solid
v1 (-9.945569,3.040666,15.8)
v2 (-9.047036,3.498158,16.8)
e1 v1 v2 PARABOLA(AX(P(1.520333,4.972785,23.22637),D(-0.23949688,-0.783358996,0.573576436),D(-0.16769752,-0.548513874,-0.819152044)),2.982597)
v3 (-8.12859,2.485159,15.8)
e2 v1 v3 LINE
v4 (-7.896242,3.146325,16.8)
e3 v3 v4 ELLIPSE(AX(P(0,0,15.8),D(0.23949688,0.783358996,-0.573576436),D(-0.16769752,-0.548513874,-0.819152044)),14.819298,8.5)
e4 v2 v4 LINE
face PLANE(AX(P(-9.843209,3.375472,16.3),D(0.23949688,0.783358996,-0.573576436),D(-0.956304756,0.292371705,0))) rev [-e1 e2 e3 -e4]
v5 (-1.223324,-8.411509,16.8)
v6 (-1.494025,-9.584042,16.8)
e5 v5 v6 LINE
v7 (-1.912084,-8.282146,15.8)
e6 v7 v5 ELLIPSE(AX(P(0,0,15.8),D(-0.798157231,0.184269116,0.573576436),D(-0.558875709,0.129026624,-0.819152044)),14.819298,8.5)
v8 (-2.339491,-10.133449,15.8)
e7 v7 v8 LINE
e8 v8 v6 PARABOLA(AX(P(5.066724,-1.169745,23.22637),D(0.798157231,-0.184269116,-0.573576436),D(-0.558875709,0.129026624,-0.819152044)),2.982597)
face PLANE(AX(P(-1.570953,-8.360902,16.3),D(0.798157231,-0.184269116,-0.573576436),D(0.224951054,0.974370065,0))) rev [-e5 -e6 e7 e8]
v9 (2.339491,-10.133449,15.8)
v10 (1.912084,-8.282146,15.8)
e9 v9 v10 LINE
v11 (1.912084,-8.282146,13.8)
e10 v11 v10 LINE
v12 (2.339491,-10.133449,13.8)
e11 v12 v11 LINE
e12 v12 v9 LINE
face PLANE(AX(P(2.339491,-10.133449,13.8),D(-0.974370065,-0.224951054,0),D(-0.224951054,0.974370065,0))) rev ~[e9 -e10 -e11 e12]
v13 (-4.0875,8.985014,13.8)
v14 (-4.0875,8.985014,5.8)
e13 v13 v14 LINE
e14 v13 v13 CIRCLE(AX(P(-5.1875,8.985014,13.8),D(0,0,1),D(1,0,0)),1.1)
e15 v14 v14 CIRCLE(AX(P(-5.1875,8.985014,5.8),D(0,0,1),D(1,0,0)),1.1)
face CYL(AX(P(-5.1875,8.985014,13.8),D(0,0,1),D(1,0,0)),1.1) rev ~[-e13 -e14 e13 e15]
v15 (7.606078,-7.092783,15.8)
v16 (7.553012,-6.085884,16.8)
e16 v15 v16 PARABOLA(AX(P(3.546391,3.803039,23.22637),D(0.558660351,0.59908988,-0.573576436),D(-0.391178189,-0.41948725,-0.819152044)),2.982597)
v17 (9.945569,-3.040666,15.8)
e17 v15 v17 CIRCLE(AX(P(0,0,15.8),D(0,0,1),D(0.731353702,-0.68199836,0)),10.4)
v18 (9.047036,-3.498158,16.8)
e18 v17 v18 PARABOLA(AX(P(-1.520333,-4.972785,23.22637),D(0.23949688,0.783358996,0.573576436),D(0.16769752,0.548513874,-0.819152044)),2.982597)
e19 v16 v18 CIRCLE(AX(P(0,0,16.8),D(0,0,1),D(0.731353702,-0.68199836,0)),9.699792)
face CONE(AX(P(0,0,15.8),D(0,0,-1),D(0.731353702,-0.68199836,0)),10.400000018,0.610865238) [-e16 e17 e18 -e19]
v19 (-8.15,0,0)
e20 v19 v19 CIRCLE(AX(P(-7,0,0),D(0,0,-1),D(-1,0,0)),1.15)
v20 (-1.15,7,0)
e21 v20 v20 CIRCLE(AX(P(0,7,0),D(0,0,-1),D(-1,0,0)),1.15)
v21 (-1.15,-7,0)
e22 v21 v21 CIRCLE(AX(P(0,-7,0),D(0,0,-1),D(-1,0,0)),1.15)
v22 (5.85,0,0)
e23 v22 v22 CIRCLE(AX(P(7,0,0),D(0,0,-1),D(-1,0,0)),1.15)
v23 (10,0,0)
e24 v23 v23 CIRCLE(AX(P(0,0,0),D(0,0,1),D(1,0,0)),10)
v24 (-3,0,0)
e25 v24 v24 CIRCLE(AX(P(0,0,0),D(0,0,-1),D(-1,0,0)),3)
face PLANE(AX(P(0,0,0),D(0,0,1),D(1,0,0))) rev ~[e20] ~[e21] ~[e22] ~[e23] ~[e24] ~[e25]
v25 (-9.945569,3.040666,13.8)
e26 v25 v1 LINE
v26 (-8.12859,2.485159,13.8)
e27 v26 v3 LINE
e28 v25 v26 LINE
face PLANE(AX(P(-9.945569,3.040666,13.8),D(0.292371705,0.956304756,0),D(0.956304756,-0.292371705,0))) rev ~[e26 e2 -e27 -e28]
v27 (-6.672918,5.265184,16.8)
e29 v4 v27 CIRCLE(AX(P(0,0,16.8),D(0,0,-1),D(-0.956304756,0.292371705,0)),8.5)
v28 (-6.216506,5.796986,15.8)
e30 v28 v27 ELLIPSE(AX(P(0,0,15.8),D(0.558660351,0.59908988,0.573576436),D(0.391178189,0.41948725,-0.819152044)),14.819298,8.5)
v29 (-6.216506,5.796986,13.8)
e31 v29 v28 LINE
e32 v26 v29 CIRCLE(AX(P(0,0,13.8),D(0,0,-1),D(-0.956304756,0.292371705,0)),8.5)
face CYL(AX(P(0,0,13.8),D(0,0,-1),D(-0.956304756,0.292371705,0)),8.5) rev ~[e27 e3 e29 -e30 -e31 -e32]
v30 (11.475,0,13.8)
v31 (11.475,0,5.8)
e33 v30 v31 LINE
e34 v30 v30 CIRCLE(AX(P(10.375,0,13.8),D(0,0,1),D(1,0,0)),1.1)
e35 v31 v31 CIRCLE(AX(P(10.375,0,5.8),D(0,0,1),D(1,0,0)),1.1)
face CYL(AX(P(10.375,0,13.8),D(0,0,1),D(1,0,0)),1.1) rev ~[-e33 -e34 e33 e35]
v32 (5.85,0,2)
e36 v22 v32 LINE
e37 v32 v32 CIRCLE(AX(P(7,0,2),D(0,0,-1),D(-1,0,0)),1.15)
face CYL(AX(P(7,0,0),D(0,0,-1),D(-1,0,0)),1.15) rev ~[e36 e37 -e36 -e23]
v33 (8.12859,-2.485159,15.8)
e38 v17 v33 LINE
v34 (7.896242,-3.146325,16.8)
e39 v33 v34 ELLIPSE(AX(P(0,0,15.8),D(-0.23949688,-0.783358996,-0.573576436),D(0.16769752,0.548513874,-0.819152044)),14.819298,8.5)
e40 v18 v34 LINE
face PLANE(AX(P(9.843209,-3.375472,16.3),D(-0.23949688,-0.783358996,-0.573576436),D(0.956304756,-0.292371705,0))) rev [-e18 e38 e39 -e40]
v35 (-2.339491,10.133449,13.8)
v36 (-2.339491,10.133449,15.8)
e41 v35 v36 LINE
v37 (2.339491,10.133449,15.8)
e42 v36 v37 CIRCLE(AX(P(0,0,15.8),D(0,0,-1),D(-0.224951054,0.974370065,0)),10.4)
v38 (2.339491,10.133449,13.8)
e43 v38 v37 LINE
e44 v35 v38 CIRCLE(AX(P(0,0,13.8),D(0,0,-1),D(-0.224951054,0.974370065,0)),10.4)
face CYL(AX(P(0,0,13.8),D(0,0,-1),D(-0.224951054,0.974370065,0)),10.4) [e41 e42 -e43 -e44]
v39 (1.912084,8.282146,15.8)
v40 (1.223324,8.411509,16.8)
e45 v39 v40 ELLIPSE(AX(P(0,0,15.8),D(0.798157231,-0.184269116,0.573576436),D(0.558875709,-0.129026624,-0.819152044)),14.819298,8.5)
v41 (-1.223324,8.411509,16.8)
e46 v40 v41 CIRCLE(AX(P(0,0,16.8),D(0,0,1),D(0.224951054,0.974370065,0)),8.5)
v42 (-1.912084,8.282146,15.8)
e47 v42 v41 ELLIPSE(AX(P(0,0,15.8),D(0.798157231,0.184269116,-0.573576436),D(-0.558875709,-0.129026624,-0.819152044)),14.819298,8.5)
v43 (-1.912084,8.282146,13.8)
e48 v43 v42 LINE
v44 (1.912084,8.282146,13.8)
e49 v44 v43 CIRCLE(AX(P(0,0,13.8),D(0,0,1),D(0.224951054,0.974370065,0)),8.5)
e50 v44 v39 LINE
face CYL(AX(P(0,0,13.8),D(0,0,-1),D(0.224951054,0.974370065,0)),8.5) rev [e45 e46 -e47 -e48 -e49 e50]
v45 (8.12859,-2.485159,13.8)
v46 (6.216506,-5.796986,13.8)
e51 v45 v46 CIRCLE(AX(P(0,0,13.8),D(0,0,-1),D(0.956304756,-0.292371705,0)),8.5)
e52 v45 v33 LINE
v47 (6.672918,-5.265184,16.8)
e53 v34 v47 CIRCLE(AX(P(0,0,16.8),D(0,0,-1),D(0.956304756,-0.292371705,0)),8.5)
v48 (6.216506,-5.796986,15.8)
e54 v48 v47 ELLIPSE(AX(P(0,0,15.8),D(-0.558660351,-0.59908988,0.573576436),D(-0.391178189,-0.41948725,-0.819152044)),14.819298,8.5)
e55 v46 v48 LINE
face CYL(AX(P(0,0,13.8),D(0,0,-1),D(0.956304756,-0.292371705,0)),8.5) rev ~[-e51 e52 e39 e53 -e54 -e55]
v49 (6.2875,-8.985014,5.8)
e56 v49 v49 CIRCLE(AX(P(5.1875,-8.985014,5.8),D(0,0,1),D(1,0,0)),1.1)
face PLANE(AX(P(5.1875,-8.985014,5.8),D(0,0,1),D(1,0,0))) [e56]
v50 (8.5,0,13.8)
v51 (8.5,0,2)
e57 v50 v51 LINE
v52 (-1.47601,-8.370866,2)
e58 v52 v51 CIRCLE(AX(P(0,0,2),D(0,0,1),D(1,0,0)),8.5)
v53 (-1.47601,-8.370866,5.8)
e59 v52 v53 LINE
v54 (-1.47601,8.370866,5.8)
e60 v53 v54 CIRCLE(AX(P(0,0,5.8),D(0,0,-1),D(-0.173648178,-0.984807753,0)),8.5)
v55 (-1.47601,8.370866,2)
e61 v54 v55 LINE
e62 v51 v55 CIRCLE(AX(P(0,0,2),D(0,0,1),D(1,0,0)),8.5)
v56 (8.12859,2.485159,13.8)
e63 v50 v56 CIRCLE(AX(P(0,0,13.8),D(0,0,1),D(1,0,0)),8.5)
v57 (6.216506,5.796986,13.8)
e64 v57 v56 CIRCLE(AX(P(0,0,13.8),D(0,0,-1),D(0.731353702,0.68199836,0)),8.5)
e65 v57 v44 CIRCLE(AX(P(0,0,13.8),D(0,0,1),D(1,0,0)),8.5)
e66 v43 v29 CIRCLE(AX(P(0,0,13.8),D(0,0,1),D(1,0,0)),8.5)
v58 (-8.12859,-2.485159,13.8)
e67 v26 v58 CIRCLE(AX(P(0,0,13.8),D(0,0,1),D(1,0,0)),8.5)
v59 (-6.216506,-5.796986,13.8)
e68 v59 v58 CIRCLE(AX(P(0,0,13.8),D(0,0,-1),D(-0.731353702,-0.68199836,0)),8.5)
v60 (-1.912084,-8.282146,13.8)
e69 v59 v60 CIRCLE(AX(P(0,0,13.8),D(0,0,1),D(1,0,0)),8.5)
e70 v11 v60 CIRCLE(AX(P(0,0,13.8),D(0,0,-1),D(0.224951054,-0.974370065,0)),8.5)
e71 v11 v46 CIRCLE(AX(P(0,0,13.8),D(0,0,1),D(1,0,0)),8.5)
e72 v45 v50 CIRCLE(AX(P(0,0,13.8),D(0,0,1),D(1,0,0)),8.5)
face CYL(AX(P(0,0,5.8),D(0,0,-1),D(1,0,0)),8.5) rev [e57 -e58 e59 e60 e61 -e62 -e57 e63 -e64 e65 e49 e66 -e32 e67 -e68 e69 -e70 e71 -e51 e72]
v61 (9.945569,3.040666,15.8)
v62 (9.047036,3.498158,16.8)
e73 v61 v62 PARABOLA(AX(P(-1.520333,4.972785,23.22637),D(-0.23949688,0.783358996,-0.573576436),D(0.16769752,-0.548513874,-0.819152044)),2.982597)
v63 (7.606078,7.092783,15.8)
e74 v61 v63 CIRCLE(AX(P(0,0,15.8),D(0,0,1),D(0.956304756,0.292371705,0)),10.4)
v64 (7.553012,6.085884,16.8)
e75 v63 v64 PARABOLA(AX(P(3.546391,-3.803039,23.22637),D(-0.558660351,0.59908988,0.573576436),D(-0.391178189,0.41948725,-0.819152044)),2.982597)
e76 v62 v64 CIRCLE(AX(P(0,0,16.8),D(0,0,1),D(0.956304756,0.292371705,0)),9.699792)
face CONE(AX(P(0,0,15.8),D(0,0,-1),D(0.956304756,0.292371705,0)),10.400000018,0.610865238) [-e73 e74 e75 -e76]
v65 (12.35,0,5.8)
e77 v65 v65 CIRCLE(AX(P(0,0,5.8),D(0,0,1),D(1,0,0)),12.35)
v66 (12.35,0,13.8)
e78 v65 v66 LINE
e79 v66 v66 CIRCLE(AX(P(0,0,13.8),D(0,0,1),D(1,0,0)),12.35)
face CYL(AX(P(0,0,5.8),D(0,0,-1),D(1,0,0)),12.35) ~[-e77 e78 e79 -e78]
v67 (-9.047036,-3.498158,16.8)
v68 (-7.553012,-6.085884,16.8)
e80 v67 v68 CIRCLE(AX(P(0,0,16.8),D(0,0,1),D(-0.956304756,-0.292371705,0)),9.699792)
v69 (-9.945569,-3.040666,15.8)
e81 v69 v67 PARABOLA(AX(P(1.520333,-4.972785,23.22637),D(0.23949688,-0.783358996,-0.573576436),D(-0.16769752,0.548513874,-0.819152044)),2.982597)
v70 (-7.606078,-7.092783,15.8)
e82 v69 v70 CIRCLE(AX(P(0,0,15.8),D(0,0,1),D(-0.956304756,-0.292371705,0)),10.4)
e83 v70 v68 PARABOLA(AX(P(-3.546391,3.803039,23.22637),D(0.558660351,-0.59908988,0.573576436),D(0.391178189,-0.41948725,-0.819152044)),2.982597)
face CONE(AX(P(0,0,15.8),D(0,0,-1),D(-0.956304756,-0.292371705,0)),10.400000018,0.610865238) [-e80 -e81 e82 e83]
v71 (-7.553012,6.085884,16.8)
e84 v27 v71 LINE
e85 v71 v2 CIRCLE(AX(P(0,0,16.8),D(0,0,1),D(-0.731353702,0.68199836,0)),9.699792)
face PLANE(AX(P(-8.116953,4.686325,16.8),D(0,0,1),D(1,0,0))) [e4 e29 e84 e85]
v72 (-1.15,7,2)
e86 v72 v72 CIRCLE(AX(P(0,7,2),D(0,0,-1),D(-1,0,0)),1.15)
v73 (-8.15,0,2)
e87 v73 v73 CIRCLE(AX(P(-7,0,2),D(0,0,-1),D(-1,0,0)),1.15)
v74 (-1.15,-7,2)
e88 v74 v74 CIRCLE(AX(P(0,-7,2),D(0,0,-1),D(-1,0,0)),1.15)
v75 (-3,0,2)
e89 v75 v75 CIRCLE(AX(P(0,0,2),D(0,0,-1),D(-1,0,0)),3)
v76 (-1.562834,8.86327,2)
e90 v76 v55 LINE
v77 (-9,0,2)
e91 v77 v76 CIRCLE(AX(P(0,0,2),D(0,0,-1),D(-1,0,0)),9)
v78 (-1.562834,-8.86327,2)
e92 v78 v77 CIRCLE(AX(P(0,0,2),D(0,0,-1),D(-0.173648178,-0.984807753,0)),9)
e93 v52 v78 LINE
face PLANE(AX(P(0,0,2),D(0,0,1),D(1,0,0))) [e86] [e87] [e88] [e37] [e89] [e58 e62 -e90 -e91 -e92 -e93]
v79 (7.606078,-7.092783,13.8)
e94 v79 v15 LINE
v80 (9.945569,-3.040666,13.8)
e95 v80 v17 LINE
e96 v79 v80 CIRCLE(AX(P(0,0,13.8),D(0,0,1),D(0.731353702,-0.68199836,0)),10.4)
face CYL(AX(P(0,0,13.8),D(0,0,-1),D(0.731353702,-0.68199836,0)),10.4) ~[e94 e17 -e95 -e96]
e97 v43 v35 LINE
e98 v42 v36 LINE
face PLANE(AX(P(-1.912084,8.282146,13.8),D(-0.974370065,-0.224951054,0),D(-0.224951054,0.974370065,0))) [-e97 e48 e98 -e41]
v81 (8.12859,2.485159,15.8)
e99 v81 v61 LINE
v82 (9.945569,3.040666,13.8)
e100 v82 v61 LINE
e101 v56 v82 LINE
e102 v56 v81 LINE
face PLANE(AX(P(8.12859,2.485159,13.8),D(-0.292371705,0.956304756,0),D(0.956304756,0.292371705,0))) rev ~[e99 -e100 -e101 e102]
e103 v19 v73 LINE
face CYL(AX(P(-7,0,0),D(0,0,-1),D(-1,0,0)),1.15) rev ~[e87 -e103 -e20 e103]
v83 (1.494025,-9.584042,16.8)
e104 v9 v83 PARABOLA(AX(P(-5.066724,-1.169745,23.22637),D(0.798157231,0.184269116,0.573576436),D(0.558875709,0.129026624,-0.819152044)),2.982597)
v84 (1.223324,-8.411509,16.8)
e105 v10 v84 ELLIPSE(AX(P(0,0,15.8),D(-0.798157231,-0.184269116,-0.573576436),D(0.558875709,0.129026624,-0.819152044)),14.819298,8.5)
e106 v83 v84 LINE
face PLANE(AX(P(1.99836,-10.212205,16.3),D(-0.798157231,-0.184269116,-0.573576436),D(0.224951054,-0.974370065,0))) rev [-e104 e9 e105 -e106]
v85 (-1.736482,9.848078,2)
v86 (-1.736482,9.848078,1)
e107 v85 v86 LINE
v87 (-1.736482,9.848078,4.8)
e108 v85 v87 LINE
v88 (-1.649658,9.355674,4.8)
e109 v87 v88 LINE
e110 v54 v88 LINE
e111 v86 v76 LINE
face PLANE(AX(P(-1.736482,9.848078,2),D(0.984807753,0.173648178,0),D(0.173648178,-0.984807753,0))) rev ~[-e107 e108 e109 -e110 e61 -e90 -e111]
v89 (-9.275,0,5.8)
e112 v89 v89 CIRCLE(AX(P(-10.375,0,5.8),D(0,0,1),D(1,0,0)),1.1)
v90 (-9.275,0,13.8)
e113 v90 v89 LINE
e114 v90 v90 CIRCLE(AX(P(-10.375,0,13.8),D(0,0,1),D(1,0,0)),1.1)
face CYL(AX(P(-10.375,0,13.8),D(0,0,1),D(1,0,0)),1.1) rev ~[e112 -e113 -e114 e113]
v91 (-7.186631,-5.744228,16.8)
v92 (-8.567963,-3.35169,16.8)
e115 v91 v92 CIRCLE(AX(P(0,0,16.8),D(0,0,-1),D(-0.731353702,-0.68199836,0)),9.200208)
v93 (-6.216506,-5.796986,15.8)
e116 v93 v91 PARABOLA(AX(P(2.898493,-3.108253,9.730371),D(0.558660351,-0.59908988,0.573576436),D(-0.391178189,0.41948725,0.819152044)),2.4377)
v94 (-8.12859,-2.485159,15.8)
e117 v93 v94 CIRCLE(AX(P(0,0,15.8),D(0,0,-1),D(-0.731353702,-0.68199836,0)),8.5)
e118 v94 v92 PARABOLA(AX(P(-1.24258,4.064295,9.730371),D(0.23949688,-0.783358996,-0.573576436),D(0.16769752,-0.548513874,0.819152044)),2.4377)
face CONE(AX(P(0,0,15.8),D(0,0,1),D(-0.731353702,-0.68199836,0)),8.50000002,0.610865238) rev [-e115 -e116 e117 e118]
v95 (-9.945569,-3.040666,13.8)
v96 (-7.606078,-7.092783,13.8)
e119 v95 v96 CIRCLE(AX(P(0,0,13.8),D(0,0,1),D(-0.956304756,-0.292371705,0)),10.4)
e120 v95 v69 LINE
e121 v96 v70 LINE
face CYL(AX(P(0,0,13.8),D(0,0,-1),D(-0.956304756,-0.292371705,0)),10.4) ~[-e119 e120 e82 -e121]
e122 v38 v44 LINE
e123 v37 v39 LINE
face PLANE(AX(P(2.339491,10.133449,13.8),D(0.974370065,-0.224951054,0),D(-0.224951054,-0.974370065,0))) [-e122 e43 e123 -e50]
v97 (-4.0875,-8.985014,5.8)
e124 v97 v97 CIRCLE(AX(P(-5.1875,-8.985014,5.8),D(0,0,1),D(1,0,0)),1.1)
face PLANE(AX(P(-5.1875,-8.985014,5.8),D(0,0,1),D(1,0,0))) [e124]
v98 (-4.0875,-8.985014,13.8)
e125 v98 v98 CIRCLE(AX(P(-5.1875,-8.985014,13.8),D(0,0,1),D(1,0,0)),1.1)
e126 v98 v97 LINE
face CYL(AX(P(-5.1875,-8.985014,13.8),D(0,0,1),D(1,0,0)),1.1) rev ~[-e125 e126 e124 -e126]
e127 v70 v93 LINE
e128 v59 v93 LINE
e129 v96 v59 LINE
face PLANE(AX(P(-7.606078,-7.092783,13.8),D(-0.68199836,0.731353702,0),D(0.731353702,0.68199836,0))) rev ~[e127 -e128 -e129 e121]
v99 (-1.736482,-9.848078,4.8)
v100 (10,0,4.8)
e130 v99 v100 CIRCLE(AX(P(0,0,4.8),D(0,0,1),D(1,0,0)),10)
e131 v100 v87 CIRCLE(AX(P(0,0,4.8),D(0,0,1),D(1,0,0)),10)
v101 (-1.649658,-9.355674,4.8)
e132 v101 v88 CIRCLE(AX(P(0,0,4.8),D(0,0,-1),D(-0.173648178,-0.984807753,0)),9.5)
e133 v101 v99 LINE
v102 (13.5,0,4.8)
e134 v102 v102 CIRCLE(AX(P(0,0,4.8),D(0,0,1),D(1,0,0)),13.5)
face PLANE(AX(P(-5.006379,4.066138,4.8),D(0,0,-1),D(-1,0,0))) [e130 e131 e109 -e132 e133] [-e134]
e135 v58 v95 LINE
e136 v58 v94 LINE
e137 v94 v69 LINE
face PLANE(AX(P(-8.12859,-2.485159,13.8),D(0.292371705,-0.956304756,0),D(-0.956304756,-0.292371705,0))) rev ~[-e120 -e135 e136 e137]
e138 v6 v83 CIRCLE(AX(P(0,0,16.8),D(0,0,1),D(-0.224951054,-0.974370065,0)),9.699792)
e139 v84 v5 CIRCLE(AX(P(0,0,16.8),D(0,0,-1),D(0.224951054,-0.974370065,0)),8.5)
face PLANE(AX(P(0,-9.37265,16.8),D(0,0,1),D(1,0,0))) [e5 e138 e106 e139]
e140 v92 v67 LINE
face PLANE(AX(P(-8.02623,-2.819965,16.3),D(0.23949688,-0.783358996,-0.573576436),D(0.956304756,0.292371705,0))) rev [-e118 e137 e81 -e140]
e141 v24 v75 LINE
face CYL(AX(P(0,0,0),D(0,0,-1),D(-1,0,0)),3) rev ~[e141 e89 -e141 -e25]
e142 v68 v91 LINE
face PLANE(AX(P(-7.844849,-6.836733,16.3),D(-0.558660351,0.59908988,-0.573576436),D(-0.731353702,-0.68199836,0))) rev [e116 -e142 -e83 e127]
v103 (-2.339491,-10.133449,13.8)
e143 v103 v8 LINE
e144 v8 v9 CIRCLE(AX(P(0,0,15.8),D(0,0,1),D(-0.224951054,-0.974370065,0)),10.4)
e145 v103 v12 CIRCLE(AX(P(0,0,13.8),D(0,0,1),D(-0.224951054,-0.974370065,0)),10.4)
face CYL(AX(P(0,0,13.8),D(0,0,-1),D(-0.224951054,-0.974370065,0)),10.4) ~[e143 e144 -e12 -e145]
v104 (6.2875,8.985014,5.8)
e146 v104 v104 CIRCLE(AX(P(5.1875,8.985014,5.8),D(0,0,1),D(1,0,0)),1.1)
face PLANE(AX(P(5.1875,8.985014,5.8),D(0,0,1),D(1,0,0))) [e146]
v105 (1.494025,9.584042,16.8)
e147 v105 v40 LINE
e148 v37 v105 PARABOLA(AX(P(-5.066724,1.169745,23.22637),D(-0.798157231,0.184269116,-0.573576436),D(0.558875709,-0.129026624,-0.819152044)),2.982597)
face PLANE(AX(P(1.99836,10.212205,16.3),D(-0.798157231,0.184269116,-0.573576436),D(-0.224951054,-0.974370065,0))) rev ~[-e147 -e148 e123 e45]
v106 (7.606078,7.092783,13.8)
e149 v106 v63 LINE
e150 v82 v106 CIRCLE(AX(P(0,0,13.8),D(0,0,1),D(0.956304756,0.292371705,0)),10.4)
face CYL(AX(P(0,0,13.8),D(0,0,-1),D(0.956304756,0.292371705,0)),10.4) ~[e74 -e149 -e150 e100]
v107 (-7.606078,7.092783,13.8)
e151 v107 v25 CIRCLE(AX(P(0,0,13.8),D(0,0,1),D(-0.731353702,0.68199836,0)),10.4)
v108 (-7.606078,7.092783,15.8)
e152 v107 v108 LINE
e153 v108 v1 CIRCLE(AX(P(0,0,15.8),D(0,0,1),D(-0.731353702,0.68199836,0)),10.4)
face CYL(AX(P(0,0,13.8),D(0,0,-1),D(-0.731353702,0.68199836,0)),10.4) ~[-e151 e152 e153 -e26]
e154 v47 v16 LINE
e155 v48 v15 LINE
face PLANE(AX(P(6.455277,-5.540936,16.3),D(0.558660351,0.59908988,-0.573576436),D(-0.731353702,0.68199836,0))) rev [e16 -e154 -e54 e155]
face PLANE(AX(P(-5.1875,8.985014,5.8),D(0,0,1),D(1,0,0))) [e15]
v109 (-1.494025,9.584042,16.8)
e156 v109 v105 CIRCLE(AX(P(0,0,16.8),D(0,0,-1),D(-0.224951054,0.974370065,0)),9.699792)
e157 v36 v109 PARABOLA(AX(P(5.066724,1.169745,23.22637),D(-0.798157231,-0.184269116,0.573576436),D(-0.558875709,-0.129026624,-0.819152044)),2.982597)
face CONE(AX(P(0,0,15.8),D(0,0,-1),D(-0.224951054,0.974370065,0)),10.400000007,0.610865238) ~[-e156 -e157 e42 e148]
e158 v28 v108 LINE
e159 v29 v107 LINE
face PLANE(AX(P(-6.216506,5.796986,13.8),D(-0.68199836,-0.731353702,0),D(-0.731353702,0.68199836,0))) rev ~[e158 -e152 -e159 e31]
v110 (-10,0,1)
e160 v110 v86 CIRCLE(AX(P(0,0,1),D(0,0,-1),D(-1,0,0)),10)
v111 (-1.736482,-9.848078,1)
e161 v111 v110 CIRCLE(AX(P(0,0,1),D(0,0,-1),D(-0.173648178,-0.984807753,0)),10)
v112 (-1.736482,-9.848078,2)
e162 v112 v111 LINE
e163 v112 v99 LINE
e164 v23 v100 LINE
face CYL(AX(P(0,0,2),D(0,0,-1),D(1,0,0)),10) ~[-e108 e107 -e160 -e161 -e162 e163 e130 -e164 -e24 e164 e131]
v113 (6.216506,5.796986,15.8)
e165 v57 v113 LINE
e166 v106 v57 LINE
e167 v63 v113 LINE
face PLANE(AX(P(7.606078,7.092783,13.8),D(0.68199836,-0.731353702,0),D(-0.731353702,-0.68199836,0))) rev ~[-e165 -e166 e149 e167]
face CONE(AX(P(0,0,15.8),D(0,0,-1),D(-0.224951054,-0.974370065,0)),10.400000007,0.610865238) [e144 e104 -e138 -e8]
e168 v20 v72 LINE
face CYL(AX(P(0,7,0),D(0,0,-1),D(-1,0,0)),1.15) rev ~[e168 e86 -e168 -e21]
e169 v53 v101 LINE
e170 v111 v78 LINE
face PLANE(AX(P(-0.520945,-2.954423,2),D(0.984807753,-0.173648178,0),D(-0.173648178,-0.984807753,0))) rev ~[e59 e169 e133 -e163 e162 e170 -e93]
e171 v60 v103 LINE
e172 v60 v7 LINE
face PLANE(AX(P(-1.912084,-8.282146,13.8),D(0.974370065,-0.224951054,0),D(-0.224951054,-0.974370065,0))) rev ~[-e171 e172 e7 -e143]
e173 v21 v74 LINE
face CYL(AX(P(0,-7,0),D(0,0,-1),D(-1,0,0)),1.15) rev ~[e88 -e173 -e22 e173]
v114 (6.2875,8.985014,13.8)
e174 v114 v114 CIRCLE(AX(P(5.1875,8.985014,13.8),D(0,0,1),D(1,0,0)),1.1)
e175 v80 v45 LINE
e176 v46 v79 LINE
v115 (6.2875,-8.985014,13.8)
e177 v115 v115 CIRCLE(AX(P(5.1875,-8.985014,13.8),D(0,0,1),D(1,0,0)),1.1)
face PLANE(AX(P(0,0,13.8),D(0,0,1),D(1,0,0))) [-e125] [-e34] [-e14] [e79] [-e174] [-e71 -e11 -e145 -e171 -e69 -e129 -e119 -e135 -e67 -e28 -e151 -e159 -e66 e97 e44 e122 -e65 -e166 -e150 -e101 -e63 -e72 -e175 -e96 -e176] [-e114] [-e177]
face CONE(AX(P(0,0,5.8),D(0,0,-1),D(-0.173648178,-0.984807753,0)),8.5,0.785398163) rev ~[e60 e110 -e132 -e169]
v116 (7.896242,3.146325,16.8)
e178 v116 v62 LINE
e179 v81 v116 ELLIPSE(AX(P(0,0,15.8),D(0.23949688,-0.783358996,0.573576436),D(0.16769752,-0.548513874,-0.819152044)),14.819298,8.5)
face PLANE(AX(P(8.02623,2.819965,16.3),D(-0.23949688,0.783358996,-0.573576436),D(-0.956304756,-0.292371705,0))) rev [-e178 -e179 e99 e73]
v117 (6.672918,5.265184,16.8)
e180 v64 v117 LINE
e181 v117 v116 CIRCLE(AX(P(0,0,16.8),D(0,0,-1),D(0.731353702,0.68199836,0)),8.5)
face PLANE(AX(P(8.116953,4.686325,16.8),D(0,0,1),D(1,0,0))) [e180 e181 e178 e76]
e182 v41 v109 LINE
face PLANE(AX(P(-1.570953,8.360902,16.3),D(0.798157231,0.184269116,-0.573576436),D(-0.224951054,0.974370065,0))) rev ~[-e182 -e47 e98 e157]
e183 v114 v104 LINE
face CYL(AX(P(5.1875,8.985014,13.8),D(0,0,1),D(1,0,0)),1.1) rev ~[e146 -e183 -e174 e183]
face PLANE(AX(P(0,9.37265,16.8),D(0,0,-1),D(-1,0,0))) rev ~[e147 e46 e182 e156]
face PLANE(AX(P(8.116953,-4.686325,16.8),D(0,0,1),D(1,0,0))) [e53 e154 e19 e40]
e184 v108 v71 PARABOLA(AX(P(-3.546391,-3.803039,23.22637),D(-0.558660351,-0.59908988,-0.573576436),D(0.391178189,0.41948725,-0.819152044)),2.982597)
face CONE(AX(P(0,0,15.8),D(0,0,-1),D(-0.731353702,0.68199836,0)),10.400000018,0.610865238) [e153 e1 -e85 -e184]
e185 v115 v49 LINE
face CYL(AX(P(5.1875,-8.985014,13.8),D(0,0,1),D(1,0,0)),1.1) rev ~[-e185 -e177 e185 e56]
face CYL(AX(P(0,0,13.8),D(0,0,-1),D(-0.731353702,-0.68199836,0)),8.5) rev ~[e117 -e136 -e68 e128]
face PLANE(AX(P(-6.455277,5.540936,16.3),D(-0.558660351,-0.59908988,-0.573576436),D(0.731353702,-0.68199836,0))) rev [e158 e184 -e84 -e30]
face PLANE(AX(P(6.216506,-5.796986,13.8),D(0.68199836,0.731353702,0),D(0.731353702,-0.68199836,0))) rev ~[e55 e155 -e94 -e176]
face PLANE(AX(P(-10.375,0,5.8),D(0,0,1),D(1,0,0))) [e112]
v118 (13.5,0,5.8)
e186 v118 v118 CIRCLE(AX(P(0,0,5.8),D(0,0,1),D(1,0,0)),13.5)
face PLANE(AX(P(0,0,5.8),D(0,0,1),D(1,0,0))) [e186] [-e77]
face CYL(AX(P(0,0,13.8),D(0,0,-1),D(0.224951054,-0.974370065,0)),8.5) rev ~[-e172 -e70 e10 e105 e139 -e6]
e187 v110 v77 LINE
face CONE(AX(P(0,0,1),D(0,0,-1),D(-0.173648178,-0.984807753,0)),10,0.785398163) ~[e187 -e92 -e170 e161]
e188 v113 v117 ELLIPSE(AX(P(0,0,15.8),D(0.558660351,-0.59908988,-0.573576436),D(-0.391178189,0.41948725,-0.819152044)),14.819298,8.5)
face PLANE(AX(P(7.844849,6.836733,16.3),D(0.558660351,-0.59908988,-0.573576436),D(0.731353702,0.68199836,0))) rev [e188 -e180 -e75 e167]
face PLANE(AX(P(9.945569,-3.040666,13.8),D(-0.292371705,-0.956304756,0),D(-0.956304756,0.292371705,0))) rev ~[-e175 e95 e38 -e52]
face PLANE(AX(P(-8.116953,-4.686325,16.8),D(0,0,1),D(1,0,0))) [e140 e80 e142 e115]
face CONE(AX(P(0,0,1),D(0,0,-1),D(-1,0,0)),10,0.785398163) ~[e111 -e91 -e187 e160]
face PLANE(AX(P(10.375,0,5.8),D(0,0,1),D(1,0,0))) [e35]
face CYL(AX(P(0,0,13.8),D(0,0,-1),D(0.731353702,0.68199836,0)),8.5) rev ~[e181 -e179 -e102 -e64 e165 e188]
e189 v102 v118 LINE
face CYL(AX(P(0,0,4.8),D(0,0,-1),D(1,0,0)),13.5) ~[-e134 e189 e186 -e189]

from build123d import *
from OCP.BRepFilletAPI import BRepFilletAPI_MakeChamfer
from build123d.topology import SkipClean

# Parameters (mm, degrees)
SKETCH_1_R          = 10
EXTRUDE_1_DEPTH     = 2
SKETCH_2_R          = 10
SKETCH_2_R_2        = 8.5
EXTRUDE_2_DEPTH     = 2.8
SKETCH_4_R          = 13.5
SKETCH_4_R_2        = 8.5
EXTRUDE_3_DEPTH     = 1
SKETCH_5_R          = 12.35
SKETCH_5_R_2        = 8.5
EXTRUDE_4_DEPTH     = 8
SKETCH_6_R          = 1.1
CUT_EXTRUDE_1_DEPTH = 8
SKETCH_7_R          = 3
SKETCH_7_R_2        = 1.15
CUT_EXTRUDE_2_DEPTH = 24.557164515
EXTRUDE_5_DEPTH     = 3
CHAMFER_1_SIZE      = 1
CHAMFER_1_SIZE2     = 0.700207538
CUT_EXTRUDE_START   = -2
CUT_EXTRUDE_3_DEPTH = 2.8
CHAMFER_2_SIZE      = 1


with BuildPart() as part:
    # 스케치1 → 보스-돌출1 (new body)
    with BuildSketch(Plane.XY):
        Circle(SKETCH_1_R)
    extrude(amount=EXTRUDE_1_DEPTH)

    # 스케치2 → 보스-돌출2 (add)
    with BuildSketch(Plane.XY.offset(2)):
        Circle(SKETCH_2_R)
        Circle(SKETCH_2_R_2, mode=Mode.SUBTRACT)
    extrude(amount=EXTRUDE_2_DEPTH)

    # 스케치4 → 보스-돌출3 (add)
    with BuildSketch(Plane.XY.offset(4.8)):
        Circle(SKETCH_4_R)
        Circle(SKETCH_4_R_2, mode=Mode.SUBTRACT)
    extrude(amount=EXTRUDE_3_DEPTH)

    # 스케치5 → 보스-돌출4 (add)
    with BuildSketch(Plane.XY.offset(5.8)):
        Circle(SKETCH_5_R)
        Circle(SKETCH_5_R_2, mode=Mode.SUBTRACT)
    extrude(amount=EXTRUDE_4_DEPTH)

    # 스케치6 → 컷-돌출1 (cut)
    with BuildSketch(Plane.XY.offset(13.8)):
        with Locations((10.375, 0)):
            Circle(SKETCH_6_R)
        with Locations((5.1875, -8.985013564)):
            Circle(SKETCH_6_R)
        with Locations((-5.1875, -8.985013564)):
            Circle(SKETCH_6_R)
        with Locations((-10.375, 0)):
            Circle(SKETCH_6_R)
        with Locations((-5.1875, 8.985013564)):
            Circle(SKETCH_6_R)
        with Locations((5.1875, 8.985013564)):
            Circle(SKETCH_6_R)
    extrude(amount=-CUT_EXTRUDE_1_DEPTH, mode=Mode.SUBTRACT)

    # 스케치7 → 컷-돌출2 (cut, through all)
    with BuildSketch(Plane(origin=(0, 0, 0), x_dir=(-1, 0, 0), z_dir=(0, 0, -1))):
        Circle(SKETCH_7_R)
        with Locations((-7, 0)):
            Circle(SKETCH_7_R_2)
        with Locations((7, 0)):
            Circle(SKETCH_7_R_2)
        with Locations((0, 7)):
            Circle(SKETCH_7_R_2)
        with Locations((0, -7)):
            Circle(SKETCH_7_R_2)
    extrude(amount=-CUT_EXTRUDE_2_DEPTH, mode=Mode.SUBTRACT)

    # 스케치10 → 보스-돌출5 (add)
    with SkipClean():  # the faces are left unmerged after this step: merging them gives an invalid solid
        with BuildSketch(Plane.XY.offset(13.8)):
            with BuildLine():
                Line((2.339490965, 10.133448674), (1.912083962, 8.282145551))
                ThreePointArc((1.912083962, 8.282145551), (0, 8.5), (-1.912083962, 8.282145551))
                Line((-1.912083962, 8.282145551), (-2.339490965, 10.133448674))
                ThreePointArc((-2.339490965, 10.133448674), (0, 10.4), (2.339490965, 10.133448674))
            make_face()
            with BuildLine():
                Line((7.606078497, 7.092782945), (6.216506464, 5.796986061))
                ThreePointArc((6.216506464, 5.796986061), (7.361215932, 4.25), (8.128590426, 2.48515949))
                Line((8.128590426, 2.48515949), (9.945569462, 3.040665729))
                ThreePointArc((9.945569462, 3.040665729), (9.006664199, 5.2), (7.606078497, 7.092782945))
            make_face()
            with BuildLine():
                Line((9.945569462, -3.040665729), (8.128590426, -2.48515949))
                ThreePointArc((8.128590426, -2.48515949), (7.361215932, -4.25), (6.216506464, -5.796986061))
                Line((6.216506464, -5.796986061), (7.606078497, -7.092782945))
                ThreePointArc((7.606078497, -7.092782945), (9.006664199, -5.2), (9.945569462, -3.040665729))
            make_face()
            with BuildLine():
                Line((2.339490965, -10.133448674), (1.912083962, -8.282145551))
                ThreePointArc((1.912083962, -8.282145551), (0, -8.5), (-1.912083962, -8.282145551))
                Line((-1.912083962, -8.282145551), (-2.339490965, -10.133448674))
                ThreePointArc((-2.339490965, -10.133448674), (0, -10.4), (2.339490965, -10.133448674))
            make_face()
            with BuildLine():
                Line((-7.606078497, -7.092782945), (-6.216506464, -5.796986061))
                ThreePointArc((-6.216506464, -5.796986061), (-7.361215932, -4.25), (-8.128590426, -2.48515949))
                Line((-8.128590426, -2.48515949), (-9.945569462, -3.040665729))
                ThreePointArc((-9.945569462, -3.040665729), (-9.006664199, -5.2), (-7.606078497, -7.092782945))
            make_face()
            with BuildLine():
                Line((-9.945569462, 3.040665729), (-8.128590426, 2.48515949))
                ThreePointArc((-8.128590426, 2.48515949), (-7.361215932, 4.25), (-6.216506464, 5.796986061))
                Line((-6.216506464, 5.796986061), (-7.606078497, 7.092782945))
                ThreePointArc((-7.606078497, 7.092782945), (-9.006664199, 5.2), (-9.945569462, 3.040665729))
            make_face()
        extrude(amount=EXTRUDE_5_DEPTH)

    # 모따기1: one chamfer whose edges measure the first distance from different faces: ONE call of the kernel's chamfer builder (chamfer() names one face for all edges)
    chamfer_1_edges_1 = [part.edges().sort_by_distance(p)[0] for p in [
        (-9.006664199, -5.2, 16.8),
    ]]
    chamfer_1_side_1 = [part.faces().sort_by_distance(p)[0] for p in [
        (-9.006664199, -5.2, 15.3),
    ]]
    chamfer_1_edges_2 = [part.edges().sort_by_distance(p)[0] for p in [
        (0, -10.4, 16.8),
    ]]
    chamfer_1_side_2 = [part.faces().sort_by_distance(p)[0] for p in [
        (0, -10.4, 15.3),
    ]]
    chamfer_1_edges_3 = [part.edges().sort_by_distance(p)[0] for p in [
        (9.006664199, -5.2, 16.8),
    ]]
    chamfer_1_side_3 = [part.faces().sort_by_distance(p)[0] for p in [
        (9.006664199, -5.2, 15.3),
    ]]
    chamfer_1_edges_4 = [part.edges().sort_by_distance(p)[0] for p in [
        (9.006664199, 5.2, 16.8),
    ]]
    chamfer_1_side_4 = [part.faces().sort_by_distance(p)[0] for p in [
        (9.006664199, 5.2, 15.3),
    ]]
    chamfer_1_edges_5 = [part.edges().sort_by_distance(p)[0] for p in [
        (0, 10.4, 16.8),
    ]]
    chamfer_1_side_5 = [part.faces().sort_by_distance(p)[0] for p in [
        (0, 10.4, 15.3),
    ]]
    chamfer_1_edges_6 = [part.edges().sort_by_distance(p)[0] for p in [
        (-9.006664199, 5.2, 16.8),
    ]]
    chamfer_1_side_6 = [part.faces().sort_by_distance(p)[0] for p in [
        (-9.006664199, 5.2, 15.3),
    ]]
    chamfer_1_edges_7 = [part.edges().sort_by_distance(p)[0] for p in [
        (-9.037079944, -2.76291261, 16.8),
    ]]
    chamfer_1_side_7 = [part.faces().sort_by_distance(p)[0] for p in [
        (-9.037079944, -2.76291261, 15.3),
    ]]
    chamfer_1_edges_8 = [part.edges().sort_by_distance(p)[0] for p in [
        (-7.361215932, -4.25, 16.8),
    ]]
    chamfer_1_side_8 = [part.faces().sort_by_distance(p)[0] for p in [
        (-7.361215932, -4.25, 15.3),
    ]]
    chamfer_1_edges_9 = [part.edges().sort_by_distance(p)[0] for p in [
        (-6.91129248, -6.444884503, 16.8),
    ]]
    chamfer_1_side_9 = [part.faces().sort_by_distance(p)[0] for p in [
        (-6.91129248, -6.444884503, 15.3),
    ]]
    chamfer_1_edges_10 = [part.edges().sort_by_distance(p)[0] for p in [
        (2.125787464, -9.207797112, 16.8),
    ]]
    chamfer_1_side_10 = [part.faces().sort_by_distance(p)[0] for p in [
        (2.125787464, -9.207797112, 15.3),
    ]]
    chamfer_1_edges_11 = [part.edges().sort_by_distance(p)[0] for p in [
        (-2.125787464, -9.207797112, 16.8),
    ]]
    chamfer_1_side_11 = [part.faces().sort_by_distance(p)[0] for p in [
        (-2.125787464, -9.207797112, 15.3),
    ]]
    chamfer_1_edges_12 = [part.edges().sort_by_distance(p)[0] for p in [
        (6.91129248, -6.444884503, 16.8),
    ]]
    chamfer_1_side_12 = [part.faces().sort_by_distance(p)[0] for p in [
        (6.91129248, -6.444884503, 15.3),
    ]]
    chamfer_1_edges_13 = [part.edges().sort_by_distance(p)[0] for p in [
        (9.037079944, -2.76291261, 16.8),
    ]]
    chamfer_1_side_13 = [part.faces().sort_by_distance(p)[0] for p in [
        (9.037079944, -2.76291261, 15.3),
    ]]
    chamfer_1_edges_14 = [part.edges().sort_by_distance(p)[0] for p in [
        (9.037079944, 2.76291261, 16.8),
    ]]
    chamfer_1_side_14 = [part.faces().sort_by_distance(p)[0] for p in [
        (9.037079944, 2.76291261, 15.3),
    ]]
    chamfer_1_edges_15 = [part.edges().sort_by_distance(p)[0] for p in [
        (6.91129248, 6.444884503, 16.8),
    ]]
    chamfer_1_side_15 = [part.faces().sort_by_distance(p)[0] for p in [
        (6.91129248, 6.444884503, 15.3),
    ]]
    chamfer_1_edges_16 = [part.edges().sort_by_distance(p)[0] for p in [
        (2.125787464, 9.207797112, 16.8),
    ]]
    chamfer_1_side_16 = [part.faces().sort_by_distance(p)[0] for p in [
        (2.125787464, 9.207797112, 15.3),
    ]]
    chamfer_1_edges_17 = [part.edges().sort_by_distance(p)[0] for p in [
        (-2.125787464, 9.207797112, 16.8),
    ]]
    chamfer_1_side_17 = [part.faces().sort_by_distance(p)[0] for p in [
        (-2.125787464, 9.207797112, 15.3),
    ]]
    chamfer_1_edges_18 = [part.edges().sort_by_distance(p)[0] for p in [
        (-9.037079944, 2.76291261, 16.8),
    ]]
    chamfer_1_side_18 = [part.faces().sort_by_distance(p)[0] for p in [
        (-9.037079944, 2.76291261, 15.3),
    ]]
    chamfer_1_edges_19 = [part.edges().sort_by_distance(p)[0] for p in [
        (-6.91129248, 6.444884503, 16.8),
    ]]
    chamfer_1_side_19 = [part.faces().sort_by_distance(p)[0] for p in [
        (-6.91129248, 6.444884503, 15.3),
    ]]
    chamfer_1 = BRepFilletAPI_MakeChamfer(part.part.solid().wrapped)
    for e in chamfer_1_edges_1:
        chamfer_1.Add(CHAMFER_1_SIZE, CHAMFER_1_SIZE2, e.wrapped, chamfer_1_side_1[0].wrapped)  # the first distance lies on this face
    for e in chamfer_1_edges_2:
        chamfer_1.Add(CHAMFER_1_SIZE, CHAMFER_1_SIZE2, e.wrapped, chamfer_1_side_2[0].wrapped)  # the first distance lies on this face
    for e in chamfer_1_edges_3:
        chamfer_1.Add(CHAMFER_1_SIZE, CHAMFER_1_SIZE2, e.wrapped, chamfer_1_side_3[0].wrapped)  # the first distance lies on this face
    for e in chamfer_1_edges_4:
        chamfer_1.Add(CHAMFER_1_SIZE, CHAMFER_1_SIZE2, e.wrapped, chamfer_1_side_4[0].wrapped)  # the first distance lies on this face
    for e in chamfer_1_edges_5:
        chamfer_1.Add(CHAMFER_1_SIZE, CHAMFER_1_SIZE2, e.wrapped, chamfer_1_side_5[0].wrapped)  # the first distance lies on this face
    for e in chamfer_1_edges_6:
        chamfer_1.Add(CHAMFER_1_SIZE, CHAMFER_1_SIZE2, e.wrapped, chamfer_1_side_6[0].wrapped)  # the first distance lies on this face
    for e in chamfer_1_edges_7:
        chamfer_1.Add(CHAMFER_1_SIZE, CHAMFER_1_SIZE2, e.wrapped, chamfer_1_side_7[0].wrapped)  # the first distance lies on this face
    for e in chamfer_1_edges_8:
        chamfer_1.Add(CHAMFER_1_SIZE, CHAMFER_1_SIZE2, e.wrapped, chamfer_1_side_8[0].wrapped)  # the first distance lies on this face
    for e in chamfer_1_edges_9:
        chamfer_1.Add(CHAMFER_1_SIZE, CHAMFER_1_SIZE2, e.wrapped, chamfer_1_side_9[0].wrapped)  # the first distance lies on this face
    for e in chamfer_1_edges_10:
        chamfer_1.Add(CHAMFER_1_SIZE, CHAMFER_1_SIZE2, e.wrapped, chamfer_1_side_10[0].wrapped)  # the first distance lies on this face
    for e in chamfer_1_edges_11:
        chamfer_1.Add(CHAMFER_1_SIZE, CHAMFER_1_SIZE2, e.wrapped, chamfer_1_side_11[0].wrapped)  # the first distance lies on this face
    for e in chamfer_1_edges_12:
        chamfer_1.Add(CHAMFER_1_SIZE, CHAMFER_1_SIZE2, e.wrapped, chamfer_1_side_12[0].wrapped)  # the first distance lies on this face
    for e in chamfer_1_edges_13:
        chamfer_1.Add(CHAMFER_1_SIZE, CHAMFER_1_SIZE2, e.wrapped, chamfer_1_side_13[0].wrapped)  # the first distance lies on this face
    for e in chamfer_1_edges_14:
        chamfer_1.Add(CHAMFER_1_SIZE, CHAMFER_1_SIZE2, e.wrapped, chamfer_1_side_14[0].wrapped)  # the first distance lies on this face
    for e in chamfer_1_edges_15:
        chamfer_1.Add(CHAMFER_1_SIZE, CHAMFER_1_SIZE2, e.wrapped, chamfer_1_side_15[0].wrapped)  # the first distance lies on this face
    for e in chamfer_1_edges_16:
        chamfer_1.Add(CHAMFER_1_SIZE, CHAMFER_1_SIZE2, e.wrapped, chamfer_1_side_16[0].wrapped)  # the first distance lies on this face
    for e in chamfer_1_edges_17:
        chamfer_1.Add(CHAMFER_1_SIZE, CHAMFER_1_SIZE2, e.wrapped, chamfer_1_side_17[0].wrapped)  # the first distance lies on this face
    for e in chamfer_1_edges_18:
        chamfer_1.Add(CHAMFER_1_SIZE, CHAMFER_1_SIZE2, e.wrapped, chamfer_1_side_18[0].wrapped)  # the first distance lies on this face
    for e in chamfer_1_edges_19:
        chamfer_1.Add(CHAMFER_1_SIZE, CHAMFER_1_SIZE2, e.wrapped, chamfer_1_side_19[0].wrapped)  # the first distance lies on this face
    add(Compound.cast(chamfer_1.Shape()), mode=Mode.REPLACE)

    # 스케치11 → 컷-돌출3 (cut)
    with BuildSketch(Plane(origin=(0, 0, 0), x_dir=(-1, 0, 0), z_dir=(0, 0, -1)).offset(CUT_EXTRUDE_START)):
        with BuildLine():
            Line((1.736481777, 9.84807753), (0.520944533, 2.954423259))
            ThreePointArc((0.520944533, 2.954423259), (2.298133329, 1.928362829), (3, 0))
            Line((3, 0), (5.85, 0))
            ThreePointArc((5.85, 0), (7, 1.15), (8.15, 0))
            Line((8.15, 0), (10, 0))
            ThreePointArc((10, 0), (7.660444431, 6.427876097), (1.736481777, 9.84807753))
        make_face()
        with BuildLine():
            ThreePointArc((3, 0), (2.298133329, -1.928362829), (0.520944533, -2.954423259))
            Line((0.520944533, -2.954423259), (1.736481777, -9.84807753))
            ThreePointArc((1.736481777, -9.84807753), (7.660444431, -6.427876097), (10, 0))
            Line((10, 0), (8.15, 0))
            ThreePointArc((8.15, 0), (7, -1.15), (5.85, 0))
            Line((5.85, 0), (3, 0))
        make_face()
    extrude(amount=-CUT_EXTRUDE_3_DEPTH, mode=Mode.SUBTRACT)

    # 모따기2
    chamfer_2_edges = [part.edges().sort_by_distance(p)[0] for p in [
        (-8.5, 0, 4.8),
        (-10, 0, 2),
    ]]
    chamfer(chamfer_2_edges, length=CHAMFER_2_SIZE)


solid = part.part
